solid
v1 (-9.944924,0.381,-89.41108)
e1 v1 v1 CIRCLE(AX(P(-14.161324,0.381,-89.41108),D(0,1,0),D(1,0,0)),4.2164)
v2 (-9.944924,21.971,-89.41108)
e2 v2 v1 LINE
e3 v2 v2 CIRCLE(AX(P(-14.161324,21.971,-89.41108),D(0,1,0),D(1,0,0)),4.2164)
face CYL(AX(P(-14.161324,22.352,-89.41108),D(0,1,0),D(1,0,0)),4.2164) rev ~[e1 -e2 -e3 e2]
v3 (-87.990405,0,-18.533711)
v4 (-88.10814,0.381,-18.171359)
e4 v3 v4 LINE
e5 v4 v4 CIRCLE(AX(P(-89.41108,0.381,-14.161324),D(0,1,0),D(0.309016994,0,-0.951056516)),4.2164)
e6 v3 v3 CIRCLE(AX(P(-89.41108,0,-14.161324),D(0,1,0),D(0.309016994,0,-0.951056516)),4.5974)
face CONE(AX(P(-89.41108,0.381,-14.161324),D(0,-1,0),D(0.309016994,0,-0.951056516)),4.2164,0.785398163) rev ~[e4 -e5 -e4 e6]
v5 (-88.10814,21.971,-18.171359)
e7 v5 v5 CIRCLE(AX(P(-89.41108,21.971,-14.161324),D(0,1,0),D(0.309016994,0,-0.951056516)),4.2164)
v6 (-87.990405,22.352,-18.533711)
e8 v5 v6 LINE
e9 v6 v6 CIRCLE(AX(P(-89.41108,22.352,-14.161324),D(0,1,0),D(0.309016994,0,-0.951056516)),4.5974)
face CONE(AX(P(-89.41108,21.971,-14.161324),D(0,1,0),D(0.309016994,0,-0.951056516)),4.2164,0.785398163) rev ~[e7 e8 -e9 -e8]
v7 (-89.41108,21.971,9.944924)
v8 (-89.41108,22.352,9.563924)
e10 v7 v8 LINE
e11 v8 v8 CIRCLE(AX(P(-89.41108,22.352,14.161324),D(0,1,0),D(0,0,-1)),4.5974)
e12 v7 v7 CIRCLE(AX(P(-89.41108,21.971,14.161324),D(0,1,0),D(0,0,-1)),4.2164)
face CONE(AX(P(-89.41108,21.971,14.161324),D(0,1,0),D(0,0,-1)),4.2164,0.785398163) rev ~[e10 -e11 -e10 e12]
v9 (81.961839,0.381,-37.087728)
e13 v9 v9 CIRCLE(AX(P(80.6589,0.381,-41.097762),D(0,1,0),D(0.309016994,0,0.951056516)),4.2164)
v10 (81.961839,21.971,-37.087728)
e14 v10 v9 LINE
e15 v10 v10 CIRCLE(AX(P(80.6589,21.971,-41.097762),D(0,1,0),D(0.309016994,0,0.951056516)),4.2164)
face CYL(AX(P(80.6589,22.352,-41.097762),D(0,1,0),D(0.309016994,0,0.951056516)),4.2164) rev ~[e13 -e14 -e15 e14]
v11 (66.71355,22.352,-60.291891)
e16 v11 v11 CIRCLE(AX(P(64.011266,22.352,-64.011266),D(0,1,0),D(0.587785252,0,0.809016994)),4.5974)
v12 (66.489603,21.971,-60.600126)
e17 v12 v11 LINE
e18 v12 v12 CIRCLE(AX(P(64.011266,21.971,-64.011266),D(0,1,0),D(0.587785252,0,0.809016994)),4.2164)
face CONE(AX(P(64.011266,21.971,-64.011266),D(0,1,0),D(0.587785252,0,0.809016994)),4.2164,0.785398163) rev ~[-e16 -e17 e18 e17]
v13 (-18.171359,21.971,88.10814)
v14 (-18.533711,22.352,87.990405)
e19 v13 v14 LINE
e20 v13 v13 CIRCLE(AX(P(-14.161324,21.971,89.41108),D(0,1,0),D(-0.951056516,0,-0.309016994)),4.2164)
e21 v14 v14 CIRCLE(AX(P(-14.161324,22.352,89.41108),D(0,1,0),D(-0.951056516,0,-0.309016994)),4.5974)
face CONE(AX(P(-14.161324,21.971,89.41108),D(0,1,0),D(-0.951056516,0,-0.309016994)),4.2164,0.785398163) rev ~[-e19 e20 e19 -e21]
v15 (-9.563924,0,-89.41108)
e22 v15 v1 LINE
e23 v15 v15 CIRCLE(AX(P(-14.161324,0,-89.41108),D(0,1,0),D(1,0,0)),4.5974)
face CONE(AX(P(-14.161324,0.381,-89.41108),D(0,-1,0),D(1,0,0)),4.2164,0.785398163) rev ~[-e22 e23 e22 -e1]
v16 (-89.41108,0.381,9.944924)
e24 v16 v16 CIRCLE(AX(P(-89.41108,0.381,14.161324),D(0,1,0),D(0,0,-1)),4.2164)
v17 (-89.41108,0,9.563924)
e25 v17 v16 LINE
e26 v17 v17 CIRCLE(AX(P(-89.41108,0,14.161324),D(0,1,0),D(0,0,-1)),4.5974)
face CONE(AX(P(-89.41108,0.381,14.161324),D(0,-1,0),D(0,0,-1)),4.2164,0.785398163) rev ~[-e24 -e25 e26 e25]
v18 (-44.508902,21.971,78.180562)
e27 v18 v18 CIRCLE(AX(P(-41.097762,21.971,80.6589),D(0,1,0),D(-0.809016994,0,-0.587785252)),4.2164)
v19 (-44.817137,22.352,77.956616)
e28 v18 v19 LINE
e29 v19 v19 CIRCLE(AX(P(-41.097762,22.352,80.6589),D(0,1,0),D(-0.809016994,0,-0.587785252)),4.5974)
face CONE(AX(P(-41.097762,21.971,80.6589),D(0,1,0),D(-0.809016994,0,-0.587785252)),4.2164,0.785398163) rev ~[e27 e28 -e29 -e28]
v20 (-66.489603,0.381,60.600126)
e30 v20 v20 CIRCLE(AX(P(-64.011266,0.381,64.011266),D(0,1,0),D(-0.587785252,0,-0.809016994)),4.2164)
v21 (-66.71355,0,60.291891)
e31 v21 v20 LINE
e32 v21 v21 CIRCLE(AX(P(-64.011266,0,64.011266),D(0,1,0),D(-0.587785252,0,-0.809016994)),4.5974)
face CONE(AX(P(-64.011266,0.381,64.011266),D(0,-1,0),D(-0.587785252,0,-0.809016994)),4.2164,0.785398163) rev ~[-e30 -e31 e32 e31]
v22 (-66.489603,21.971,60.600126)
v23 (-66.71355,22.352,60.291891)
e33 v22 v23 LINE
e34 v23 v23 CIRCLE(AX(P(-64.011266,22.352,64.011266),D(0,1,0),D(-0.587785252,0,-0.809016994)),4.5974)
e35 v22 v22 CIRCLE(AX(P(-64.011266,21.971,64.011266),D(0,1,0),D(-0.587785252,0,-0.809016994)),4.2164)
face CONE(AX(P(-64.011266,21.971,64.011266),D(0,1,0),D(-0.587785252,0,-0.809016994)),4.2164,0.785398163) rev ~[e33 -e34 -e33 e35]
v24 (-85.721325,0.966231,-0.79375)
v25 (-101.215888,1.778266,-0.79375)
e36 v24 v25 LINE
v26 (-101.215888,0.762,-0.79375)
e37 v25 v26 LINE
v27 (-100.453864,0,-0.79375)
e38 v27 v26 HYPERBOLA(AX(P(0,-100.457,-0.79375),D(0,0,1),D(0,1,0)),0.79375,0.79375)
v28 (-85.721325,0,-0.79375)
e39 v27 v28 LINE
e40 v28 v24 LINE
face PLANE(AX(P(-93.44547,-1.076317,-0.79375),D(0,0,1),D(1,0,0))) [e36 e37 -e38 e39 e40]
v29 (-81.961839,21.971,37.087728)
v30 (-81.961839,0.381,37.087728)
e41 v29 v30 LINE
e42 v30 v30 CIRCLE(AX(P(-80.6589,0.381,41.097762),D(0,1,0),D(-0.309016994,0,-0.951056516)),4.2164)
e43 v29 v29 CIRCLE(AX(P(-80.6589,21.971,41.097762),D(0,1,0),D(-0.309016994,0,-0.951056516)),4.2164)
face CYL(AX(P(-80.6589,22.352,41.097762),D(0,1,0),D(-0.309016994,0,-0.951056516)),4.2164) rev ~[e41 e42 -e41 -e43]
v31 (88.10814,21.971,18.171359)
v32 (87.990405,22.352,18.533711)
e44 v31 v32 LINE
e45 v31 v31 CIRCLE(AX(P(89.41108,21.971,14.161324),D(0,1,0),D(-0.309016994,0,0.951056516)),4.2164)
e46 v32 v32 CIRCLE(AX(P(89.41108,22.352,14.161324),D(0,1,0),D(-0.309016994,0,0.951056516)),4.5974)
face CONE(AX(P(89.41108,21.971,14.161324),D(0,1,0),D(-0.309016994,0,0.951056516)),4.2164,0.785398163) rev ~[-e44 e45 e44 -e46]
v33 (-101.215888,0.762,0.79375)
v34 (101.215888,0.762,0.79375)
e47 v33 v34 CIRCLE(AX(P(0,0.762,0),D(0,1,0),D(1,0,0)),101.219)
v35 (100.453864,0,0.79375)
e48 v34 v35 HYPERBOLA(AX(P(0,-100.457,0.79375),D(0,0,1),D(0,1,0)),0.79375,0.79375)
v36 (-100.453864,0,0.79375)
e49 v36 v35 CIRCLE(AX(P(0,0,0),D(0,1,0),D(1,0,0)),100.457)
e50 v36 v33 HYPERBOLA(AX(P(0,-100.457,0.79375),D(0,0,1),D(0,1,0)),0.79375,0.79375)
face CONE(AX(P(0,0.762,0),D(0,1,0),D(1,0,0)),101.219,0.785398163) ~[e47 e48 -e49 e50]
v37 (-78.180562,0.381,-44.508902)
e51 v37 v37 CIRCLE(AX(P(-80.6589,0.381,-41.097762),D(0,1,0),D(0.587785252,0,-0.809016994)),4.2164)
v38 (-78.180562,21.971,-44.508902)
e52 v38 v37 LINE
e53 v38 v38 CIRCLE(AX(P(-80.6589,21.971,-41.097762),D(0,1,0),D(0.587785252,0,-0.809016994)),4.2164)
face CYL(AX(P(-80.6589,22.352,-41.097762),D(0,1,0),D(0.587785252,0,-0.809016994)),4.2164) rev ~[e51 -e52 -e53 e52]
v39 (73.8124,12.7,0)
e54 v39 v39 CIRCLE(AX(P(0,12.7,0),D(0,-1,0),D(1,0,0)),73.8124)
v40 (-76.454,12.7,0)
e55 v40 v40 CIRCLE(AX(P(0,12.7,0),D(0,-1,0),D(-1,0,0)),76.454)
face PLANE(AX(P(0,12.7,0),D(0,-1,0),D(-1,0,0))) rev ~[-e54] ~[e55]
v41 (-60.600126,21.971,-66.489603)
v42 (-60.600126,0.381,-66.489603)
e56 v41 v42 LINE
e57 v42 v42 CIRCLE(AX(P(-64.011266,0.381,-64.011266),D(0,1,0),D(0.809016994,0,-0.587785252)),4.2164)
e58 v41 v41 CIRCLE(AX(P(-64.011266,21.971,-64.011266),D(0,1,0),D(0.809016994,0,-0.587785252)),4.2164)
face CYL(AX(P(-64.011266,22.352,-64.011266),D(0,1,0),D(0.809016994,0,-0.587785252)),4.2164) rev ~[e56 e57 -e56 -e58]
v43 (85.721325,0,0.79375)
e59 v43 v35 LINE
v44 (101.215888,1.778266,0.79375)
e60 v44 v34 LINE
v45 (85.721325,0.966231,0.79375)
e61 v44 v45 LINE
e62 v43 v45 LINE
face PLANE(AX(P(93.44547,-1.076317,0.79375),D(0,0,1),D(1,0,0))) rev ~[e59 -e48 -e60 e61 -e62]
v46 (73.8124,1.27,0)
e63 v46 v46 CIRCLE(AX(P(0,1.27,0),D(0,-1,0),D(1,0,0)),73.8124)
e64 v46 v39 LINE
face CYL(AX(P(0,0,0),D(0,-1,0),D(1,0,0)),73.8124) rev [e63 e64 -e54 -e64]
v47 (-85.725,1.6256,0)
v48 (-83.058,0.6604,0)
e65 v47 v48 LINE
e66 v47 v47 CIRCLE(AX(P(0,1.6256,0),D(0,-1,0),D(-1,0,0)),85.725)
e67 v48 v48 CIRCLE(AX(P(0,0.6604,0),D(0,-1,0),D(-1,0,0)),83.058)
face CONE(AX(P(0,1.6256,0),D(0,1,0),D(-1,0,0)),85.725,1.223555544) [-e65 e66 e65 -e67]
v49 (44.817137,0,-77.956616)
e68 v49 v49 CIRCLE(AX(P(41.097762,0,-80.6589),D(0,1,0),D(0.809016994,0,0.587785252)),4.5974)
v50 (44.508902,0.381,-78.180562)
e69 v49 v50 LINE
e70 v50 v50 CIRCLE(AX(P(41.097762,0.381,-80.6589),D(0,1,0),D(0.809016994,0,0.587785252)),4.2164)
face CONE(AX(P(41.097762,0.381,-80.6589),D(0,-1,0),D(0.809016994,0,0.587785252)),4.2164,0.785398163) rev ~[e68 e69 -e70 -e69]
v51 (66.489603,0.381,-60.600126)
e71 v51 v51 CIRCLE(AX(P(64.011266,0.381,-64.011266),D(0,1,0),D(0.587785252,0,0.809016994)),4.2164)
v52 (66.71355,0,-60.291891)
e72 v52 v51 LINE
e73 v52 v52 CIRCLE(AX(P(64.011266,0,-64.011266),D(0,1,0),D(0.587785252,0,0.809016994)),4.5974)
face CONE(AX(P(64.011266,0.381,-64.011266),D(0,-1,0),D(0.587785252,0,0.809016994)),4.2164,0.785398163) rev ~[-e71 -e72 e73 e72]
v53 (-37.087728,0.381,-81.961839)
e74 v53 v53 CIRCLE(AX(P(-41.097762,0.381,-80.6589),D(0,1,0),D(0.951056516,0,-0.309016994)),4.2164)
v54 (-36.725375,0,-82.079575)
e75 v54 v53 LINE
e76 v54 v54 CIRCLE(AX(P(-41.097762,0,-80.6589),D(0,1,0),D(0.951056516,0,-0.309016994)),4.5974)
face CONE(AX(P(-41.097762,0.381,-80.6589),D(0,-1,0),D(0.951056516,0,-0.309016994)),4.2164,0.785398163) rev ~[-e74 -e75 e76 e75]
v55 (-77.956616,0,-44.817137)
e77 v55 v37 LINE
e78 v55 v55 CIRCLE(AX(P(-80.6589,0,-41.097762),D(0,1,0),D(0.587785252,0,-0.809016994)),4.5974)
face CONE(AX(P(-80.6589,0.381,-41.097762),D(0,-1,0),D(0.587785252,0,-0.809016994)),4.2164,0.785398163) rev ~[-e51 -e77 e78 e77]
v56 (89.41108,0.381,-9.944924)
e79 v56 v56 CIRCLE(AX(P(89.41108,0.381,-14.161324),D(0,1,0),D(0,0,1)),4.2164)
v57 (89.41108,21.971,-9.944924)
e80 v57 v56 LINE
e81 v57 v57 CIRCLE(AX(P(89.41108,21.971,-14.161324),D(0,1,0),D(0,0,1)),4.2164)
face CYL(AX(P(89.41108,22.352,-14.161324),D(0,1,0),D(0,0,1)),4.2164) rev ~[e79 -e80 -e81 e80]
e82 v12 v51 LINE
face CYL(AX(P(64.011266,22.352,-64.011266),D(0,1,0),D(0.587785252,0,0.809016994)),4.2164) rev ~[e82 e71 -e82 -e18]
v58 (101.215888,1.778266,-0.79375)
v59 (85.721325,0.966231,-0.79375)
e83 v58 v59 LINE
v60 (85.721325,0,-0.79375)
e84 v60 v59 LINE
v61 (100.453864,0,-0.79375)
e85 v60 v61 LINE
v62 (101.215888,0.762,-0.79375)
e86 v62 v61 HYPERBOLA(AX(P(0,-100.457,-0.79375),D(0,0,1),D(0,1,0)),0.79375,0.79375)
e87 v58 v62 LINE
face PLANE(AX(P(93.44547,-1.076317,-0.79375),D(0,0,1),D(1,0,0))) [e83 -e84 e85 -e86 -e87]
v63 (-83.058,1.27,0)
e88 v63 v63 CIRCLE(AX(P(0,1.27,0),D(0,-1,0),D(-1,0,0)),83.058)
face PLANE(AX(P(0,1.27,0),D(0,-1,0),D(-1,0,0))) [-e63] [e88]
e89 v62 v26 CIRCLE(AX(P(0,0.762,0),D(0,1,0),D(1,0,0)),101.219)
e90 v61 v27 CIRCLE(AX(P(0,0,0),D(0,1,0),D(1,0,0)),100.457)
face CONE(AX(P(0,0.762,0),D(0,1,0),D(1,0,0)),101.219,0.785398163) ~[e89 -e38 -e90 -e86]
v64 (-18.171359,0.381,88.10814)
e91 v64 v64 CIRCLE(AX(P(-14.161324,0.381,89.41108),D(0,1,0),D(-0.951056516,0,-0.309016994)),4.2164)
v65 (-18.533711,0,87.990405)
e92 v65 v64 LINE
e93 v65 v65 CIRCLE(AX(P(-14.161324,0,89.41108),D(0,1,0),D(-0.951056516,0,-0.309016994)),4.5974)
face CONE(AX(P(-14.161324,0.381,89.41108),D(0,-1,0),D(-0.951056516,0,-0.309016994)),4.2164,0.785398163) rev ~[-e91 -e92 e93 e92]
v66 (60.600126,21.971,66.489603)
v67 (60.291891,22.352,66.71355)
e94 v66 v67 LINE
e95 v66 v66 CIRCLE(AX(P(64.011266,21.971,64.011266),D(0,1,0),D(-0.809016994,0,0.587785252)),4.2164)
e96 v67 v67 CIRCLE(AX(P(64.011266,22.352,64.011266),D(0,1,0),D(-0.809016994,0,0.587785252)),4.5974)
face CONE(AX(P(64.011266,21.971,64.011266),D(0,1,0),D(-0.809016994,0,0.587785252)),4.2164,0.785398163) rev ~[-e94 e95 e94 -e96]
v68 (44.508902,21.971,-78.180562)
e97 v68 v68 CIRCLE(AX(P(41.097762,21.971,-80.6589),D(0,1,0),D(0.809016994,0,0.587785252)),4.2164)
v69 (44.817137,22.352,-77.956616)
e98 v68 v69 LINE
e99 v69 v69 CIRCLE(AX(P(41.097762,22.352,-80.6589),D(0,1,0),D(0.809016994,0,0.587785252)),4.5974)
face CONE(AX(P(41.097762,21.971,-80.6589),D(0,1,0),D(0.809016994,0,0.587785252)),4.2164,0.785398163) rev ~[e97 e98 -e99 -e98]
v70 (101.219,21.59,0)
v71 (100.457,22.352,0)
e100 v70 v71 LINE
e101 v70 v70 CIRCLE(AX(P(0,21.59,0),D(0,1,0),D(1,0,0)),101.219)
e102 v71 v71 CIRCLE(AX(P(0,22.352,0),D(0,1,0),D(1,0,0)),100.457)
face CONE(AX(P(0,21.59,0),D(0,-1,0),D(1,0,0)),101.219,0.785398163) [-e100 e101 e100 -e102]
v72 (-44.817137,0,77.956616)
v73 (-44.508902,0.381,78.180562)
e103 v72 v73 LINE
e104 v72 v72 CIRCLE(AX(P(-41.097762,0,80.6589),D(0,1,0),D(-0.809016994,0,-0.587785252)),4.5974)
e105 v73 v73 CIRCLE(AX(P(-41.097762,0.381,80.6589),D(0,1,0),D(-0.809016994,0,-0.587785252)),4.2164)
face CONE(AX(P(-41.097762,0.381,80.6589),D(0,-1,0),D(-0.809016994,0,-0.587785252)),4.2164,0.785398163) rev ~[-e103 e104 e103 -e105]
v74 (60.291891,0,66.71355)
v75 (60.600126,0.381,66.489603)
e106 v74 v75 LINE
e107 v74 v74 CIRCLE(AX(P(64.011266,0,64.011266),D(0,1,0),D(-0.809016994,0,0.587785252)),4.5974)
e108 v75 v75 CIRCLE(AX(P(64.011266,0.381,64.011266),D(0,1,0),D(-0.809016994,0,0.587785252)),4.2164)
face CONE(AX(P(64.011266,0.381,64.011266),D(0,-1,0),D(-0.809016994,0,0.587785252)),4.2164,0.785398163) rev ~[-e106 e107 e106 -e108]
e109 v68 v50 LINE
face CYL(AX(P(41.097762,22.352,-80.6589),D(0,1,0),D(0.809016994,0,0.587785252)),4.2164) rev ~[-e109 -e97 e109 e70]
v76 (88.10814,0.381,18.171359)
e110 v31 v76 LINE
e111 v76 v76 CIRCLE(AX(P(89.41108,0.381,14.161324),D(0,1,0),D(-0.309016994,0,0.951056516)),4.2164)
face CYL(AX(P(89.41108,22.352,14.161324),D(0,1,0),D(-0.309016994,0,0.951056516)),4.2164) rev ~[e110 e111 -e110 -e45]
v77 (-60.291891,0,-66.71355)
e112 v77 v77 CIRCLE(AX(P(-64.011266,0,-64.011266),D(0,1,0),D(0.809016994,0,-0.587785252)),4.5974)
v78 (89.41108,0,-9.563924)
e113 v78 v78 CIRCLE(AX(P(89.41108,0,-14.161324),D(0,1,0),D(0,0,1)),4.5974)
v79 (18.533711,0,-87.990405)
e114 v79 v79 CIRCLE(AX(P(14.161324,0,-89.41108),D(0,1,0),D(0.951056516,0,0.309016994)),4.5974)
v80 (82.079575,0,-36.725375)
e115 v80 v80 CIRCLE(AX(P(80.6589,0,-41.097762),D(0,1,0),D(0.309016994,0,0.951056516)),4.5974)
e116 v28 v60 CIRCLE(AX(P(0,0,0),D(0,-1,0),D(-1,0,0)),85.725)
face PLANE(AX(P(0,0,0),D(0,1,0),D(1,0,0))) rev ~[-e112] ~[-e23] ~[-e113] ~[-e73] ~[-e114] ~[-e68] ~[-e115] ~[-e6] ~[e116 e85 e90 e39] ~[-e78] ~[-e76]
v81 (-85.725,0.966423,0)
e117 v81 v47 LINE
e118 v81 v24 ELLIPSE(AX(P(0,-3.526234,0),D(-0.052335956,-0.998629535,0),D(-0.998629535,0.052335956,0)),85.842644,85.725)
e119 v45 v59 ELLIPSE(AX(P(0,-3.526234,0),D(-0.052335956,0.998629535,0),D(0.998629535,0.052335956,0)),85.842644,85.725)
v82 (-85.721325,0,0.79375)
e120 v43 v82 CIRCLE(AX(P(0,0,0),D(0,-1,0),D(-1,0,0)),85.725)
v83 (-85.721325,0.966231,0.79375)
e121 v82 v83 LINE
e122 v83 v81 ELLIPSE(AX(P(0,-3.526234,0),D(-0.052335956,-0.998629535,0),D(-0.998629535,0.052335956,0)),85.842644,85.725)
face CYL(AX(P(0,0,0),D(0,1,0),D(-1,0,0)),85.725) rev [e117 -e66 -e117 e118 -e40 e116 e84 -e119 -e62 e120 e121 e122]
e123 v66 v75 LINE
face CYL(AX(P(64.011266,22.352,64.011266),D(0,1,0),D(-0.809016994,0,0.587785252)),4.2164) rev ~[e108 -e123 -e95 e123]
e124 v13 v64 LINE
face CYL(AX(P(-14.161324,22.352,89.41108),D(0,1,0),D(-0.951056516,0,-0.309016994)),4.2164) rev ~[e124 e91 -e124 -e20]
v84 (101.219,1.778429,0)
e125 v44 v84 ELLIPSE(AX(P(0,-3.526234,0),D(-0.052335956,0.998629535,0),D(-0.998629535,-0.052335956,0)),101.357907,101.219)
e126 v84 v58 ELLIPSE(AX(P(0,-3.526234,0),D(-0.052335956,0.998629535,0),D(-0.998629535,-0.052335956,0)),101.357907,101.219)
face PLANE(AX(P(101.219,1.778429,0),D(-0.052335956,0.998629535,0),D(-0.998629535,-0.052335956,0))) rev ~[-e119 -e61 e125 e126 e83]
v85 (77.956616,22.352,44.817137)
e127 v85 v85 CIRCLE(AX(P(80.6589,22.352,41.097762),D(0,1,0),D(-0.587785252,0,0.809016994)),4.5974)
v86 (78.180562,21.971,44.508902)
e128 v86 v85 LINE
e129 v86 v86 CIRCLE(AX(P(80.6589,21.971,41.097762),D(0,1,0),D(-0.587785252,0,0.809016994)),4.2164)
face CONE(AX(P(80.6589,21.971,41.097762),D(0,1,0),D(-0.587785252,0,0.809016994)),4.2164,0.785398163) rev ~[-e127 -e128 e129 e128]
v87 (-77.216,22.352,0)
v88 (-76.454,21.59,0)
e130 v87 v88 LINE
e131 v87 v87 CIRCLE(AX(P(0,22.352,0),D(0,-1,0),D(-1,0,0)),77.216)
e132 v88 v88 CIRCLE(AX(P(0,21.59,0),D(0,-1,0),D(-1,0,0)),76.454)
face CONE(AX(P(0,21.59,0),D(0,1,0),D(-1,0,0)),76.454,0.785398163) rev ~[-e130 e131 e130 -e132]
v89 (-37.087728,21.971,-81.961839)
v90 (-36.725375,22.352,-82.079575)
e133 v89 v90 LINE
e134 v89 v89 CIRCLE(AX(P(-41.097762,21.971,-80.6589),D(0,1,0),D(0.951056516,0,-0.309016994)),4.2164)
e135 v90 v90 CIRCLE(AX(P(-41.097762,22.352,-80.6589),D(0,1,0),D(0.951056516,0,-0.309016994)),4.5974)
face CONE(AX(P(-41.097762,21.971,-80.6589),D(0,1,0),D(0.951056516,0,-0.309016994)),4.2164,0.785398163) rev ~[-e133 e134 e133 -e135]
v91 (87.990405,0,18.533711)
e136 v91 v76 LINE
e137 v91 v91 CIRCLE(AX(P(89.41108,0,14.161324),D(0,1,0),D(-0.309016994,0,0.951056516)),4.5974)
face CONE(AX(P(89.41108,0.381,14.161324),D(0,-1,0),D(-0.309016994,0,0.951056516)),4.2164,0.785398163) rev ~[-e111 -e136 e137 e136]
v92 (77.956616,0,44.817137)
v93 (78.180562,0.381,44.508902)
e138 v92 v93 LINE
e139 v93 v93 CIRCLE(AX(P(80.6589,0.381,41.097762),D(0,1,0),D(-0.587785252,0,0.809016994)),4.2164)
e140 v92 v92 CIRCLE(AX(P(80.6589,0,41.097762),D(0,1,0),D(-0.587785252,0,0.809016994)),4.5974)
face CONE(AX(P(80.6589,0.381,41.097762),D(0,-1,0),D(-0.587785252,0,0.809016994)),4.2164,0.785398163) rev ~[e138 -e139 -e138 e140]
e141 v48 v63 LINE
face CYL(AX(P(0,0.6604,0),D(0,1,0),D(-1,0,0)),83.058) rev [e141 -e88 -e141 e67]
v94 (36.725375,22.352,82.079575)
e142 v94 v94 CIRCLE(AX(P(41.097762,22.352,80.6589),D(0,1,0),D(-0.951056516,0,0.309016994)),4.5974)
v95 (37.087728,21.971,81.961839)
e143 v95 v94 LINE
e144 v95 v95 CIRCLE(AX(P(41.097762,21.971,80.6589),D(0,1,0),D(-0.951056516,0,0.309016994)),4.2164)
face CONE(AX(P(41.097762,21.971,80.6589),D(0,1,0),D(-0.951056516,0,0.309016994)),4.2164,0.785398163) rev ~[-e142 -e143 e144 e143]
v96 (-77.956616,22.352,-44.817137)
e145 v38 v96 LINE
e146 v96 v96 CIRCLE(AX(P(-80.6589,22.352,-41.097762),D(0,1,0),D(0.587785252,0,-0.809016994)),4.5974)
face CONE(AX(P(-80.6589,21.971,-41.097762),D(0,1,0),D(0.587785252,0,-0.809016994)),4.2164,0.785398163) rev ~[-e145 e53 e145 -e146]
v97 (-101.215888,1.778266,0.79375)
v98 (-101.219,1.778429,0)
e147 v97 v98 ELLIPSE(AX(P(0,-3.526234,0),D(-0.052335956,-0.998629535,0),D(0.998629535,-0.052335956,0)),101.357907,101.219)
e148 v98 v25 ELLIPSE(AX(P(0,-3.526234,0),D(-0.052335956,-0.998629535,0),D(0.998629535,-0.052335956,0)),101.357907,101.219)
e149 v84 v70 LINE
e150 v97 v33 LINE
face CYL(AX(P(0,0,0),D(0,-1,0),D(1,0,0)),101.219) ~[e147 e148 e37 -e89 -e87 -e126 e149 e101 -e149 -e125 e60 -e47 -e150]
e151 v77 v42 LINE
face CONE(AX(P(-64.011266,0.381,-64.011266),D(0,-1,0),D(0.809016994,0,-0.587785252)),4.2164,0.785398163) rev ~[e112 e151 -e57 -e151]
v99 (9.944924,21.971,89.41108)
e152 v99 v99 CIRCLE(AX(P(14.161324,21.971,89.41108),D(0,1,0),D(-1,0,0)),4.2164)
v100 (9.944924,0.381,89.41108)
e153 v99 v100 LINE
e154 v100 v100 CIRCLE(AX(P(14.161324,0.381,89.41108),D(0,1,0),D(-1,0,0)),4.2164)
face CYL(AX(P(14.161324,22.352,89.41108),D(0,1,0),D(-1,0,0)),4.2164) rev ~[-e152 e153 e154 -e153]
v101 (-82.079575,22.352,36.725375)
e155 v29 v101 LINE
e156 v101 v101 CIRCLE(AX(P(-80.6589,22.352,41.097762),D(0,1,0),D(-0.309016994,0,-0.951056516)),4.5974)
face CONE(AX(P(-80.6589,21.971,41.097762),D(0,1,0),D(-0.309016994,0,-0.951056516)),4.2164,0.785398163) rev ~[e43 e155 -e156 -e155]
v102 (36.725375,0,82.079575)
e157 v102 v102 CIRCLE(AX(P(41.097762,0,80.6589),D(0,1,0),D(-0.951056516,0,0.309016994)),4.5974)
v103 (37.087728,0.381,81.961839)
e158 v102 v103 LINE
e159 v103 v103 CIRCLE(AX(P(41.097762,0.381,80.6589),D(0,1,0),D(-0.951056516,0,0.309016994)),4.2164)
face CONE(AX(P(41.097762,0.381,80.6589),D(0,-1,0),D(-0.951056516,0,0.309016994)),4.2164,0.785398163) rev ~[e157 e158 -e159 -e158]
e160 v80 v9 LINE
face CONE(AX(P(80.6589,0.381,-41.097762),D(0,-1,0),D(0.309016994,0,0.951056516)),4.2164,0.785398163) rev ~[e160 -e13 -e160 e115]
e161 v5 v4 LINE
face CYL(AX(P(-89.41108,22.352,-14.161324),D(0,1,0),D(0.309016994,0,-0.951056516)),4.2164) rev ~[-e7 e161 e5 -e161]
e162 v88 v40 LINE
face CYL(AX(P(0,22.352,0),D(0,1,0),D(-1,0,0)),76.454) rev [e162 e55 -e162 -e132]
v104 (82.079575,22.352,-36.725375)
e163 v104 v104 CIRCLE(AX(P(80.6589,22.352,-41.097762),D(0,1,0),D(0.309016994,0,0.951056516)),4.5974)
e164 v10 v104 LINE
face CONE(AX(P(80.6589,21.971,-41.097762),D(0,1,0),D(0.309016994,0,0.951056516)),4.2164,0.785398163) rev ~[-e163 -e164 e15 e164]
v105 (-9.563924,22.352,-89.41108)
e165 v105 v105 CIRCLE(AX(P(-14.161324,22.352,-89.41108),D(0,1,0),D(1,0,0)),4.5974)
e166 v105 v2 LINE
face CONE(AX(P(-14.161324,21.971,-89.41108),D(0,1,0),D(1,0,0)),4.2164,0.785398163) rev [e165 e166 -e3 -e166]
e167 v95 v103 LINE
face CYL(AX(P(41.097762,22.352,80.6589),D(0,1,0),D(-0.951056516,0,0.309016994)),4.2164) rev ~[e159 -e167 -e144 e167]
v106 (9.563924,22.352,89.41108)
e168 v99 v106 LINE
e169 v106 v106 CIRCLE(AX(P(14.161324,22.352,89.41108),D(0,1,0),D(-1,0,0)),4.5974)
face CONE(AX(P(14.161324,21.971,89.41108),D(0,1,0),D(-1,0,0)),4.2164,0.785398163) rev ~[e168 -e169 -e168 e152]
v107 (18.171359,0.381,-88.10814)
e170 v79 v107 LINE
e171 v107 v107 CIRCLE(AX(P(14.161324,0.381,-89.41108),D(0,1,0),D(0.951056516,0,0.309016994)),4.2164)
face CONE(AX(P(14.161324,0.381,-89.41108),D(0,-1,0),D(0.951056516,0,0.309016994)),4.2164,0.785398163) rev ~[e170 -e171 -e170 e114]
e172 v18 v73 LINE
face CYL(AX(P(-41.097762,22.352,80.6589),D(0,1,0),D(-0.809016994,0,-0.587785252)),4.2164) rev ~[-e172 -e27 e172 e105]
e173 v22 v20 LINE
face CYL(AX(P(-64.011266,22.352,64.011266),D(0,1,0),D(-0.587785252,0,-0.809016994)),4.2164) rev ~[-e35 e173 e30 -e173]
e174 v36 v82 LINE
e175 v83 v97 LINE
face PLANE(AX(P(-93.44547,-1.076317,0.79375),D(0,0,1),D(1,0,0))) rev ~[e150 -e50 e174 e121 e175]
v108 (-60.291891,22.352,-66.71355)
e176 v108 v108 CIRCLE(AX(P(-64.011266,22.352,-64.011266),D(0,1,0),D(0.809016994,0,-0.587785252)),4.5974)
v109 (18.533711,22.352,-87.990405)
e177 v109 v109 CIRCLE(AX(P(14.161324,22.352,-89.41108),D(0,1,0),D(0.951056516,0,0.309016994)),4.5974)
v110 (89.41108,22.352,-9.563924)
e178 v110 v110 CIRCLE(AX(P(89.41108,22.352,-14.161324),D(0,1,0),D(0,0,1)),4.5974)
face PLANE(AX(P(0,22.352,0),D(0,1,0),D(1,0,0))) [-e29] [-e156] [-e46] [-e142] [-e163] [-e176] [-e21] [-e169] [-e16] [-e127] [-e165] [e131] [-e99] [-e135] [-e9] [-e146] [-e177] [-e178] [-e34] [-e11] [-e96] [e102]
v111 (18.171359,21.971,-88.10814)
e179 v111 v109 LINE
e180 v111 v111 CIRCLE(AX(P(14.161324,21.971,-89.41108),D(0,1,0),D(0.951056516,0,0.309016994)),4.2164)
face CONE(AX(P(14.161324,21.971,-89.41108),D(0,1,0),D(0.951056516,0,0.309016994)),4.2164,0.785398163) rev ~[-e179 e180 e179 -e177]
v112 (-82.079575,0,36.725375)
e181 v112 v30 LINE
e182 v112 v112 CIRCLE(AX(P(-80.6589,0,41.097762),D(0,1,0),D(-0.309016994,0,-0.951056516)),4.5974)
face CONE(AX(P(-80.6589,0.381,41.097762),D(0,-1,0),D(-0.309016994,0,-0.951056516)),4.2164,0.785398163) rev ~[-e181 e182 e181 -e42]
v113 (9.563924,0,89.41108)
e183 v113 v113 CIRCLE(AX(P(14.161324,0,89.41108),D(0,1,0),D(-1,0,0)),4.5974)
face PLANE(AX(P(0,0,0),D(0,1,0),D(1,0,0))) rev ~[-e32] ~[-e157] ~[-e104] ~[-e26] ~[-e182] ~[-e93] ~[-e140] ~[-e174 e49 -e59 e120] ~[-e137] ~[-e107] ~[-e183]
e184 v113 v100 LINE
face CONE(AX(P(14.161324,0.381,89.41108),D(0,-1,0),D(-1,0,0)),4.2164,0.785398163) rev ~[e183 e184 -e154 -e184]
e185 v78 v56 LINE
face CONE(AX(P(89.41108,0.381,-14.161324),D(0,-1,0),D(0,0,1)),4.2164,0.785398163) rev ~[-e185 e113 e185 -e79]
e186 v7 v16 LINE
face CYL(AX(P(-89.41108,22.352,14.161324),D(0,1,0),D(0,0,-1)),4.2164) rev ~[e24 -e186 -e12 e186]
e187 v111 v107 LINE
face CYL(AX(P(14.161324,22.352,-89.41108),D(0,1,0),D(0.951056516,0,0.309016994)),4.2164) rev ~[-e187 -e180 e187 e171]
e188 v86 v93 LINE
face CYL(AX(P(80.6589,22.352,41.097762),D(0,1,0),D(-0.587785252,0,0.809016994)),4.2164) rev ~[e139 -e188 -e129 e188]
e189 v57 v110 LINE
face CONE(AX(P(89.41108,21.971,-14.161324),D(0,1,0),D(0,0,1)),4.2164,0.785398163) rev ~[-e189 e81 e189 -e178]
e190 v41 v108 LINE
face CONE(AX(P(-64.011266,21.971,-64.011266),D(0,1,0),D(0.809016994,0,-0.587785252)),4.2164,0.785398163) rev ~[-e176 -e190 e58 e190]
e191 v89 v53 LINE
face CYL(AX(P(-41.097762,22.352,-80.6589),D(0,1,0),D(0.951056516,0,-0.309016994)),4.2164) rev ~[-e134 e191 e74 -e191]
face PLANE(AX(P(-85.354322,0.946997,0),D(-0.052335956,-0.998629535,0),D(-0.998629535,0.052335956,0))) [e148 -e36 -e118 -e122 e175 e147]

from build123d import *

# Parameters (mm, degrees)
SKETCH1_R                    = 101.219
SKETCH1_R_2                  = 73.8124
BOSS_EXTRUDE1_DEPTH          = 22.352
SKETCH2_R                    = 76.454
CUT_EXTRUDE1_DEPTH           = 9.652
CHAMFER1_SIZE                = 0.762
SKETCH3_R                    = 4.2164
CUT_EXTRUDE2_DEPTH           = 23.352
CHAMFER2_SIZE                = 0.381
CIRPATTERN1_COUNT            = 20
CHAMFER2_OF_CIRPATTERN1_SIZE = 0.381
CUT_EXTRUDE3_DEPTH           = 0.79375


with BuildPart() as part:
    # Sketch1 → Boss-Extrude1 (new body)
    with BuildSketch(Plane(origin=(0, 0, 0), x_dir=(1, 0, 0), z_dir=(0, 1, 0))):
        Circle(SKETCH1_R)
        Circle(SKETCH1_R_2, mode=Mode.SUBTRACT)
    extrude(amount=BOSS_EXTRUDE1_DEPTH)

    # Sketch2 → Cut-Extrude1 (cut)
    with BuildSketch(Plane(origin=(0, 22.352, 0), x_dir=(-1, 0, 0), z_dir=(0, -1, 0))):
        Circle(SKETCH2_R)
    extrude(amount=CUT_EXTRUDE1_DEPTH, mode=Mode.SUBTRACT)

    # Chamfer1
    chamfer1_edges = [part.edges().sort_by_distance(p)[0] for p in [
        (76.454, 22.352, 0),
        (-101.219, 0, 0),
        (-101.219, 22.352, 0),
    ]]
    chamfer(chamfer1_edges, length=CHAMFER1_SIZE)

    # Sketch4 → Cut-Revolve1 (revolve, cut)
    with BuildSketch(Plane.XY):
        Polygon((-85.725, 0), (-85.725, 1.6256), (-83.058, 0.6604), (-83.058, 1.27), (0, 1.27), (0, 0), align=None)
    revolve(axis=Axis((0, 22.352, 0), (0, -1, 0)), mode=Mode.SUBTRACT)

    # Sketch3 → Cut-Extrude2 (cut, through all)
    with BuildSketch(Plane(origin=(0, 22.352, 0), x_dir=(1, 0, 0), z_dir=(0, 1, 0))):
        with Locations((-14.161323808, 89.411079645)):
            Circle(SKETCH3_R)
    cut_extrude2 = extrude(amount=-CUT_EXTRUDE2_DEPTH, mode=Mode.SUBTRACT)

    # Chamfer2
    chamfer2_edges = [part.edges().sort_by_distance(p)[0] for p in [
        (-18.377723808, 0, -89.411079645),
        (-18.377723808, 22.352, -89.411079645),
    ]]
    chamfer(chamfer2_edges, length=CHAMFER2_SIZE)

    # CirPattern1: Cut-Extrude2 ×20 about axis
    cirpattern1_axis = Axis((0, 0, 0), (0, 1, 0))
    for i in range(1, CIRPATTERN1_COUNT):
        add(cut_extrude2.rotate(cirpattern1_axis, i * 360 / CIRPATTERN1_COUNT), mode=Mode.SUBTRACT)

    # Chamfer2 of CirPattern1
    chamfer2_of_cirpattern1_edges = [part.edges().sort_by_distance(p)[0] for p in [
        (-45.107797079, 0, -79.355960951),
        (-45.107797079, 22.352, -79.355960951),
        (-67.422404886, 0, -61.532927893),
        (-67.422404886, 22.352, -61.532927893),
        (-83.137237944, 0, -37.686623128),
        (-83.137237944, 22.352, -37.686623128),
        (-90.7140189, 0, -10.151289113),
        (-90.7140189, 22.352, -10.151289113),
        (-89.411079645, 0, 18.377723808),
        (-89.411079645, 22.352, 18.377723808),
        (-79.355960951, 0, 45.107797079),
        (-79.355960951, 22.352, 45.107797079),
        (-61.532927893, 0, 67.422404886),
        (-61.532927893, 22.352, 67.422404886),
        (-37.686623128, 0, 83.137237944),
        (-37.686623128, 22.352, 83.137237944),
        (-10.151289113, 0, 90.7140189),
        (-10.151289113, 22.352, 90.7140189),
        (18.377723808, 0, 89.411079645),
        (18.377723808, 22.352, 89.411079645),
        (45.107797079, 0, 79.355960951),
        (45.107797079, 22.352, 79.355960951),
        (67.422404886, 0, 61.532927893),
        (67.422404886, 22.352, 61.532927893),
        (83.137237944, 0, 37.686623128),
        (83.137237944, 22.352, 37.686623128),
        (90.7140189, 0, 10.151289113),
        (90.7140189, 22.352, 10.151289113),
        (89.411079645, 0, -18.377723808),
        (89.411079645, 22.352, -18.377723808),
        (79.355960951, 0, -45.107797079),
        (79.355960951, 22.352, -45.107797079),
        (61.532927893, 0, -67.422404886),
        (61.532927893, 22.352, -67.422404886),
        (37.686623128, 0, -83.137237944),
        (37.686623128, 22.352, -83.137237944),
        (10.151289113, 0, -90.7140189),
        (10.151289113, 22.352, -90.7140189),
    ]]
    chamfer(chamfer2_of_cirpattern1_edges, length=CHAMFER2_OF_CIRPATTERN1_SIZE)

    # Sketch5 → Cut-Extrude3 (cut, symmetric)
    with BuildSketch(Plane.XY):
        Polygon((-85.354321688, 0.946996712), (-101.219, 1.778429271), (-101.219, -3.52623374), (-85.354321688, -3.52623374), align=None)
        Polygon((85.354321688, 0.946996712), (85.354321688, -3.52623374), (101.219, -3.52623374), (101.219, 1.778429271), align=None)
    extrude(amount=CUT_EXTRUDE3_DEPTH, both=True, mode=Mode.SUBTRACT)


solid = part.part
